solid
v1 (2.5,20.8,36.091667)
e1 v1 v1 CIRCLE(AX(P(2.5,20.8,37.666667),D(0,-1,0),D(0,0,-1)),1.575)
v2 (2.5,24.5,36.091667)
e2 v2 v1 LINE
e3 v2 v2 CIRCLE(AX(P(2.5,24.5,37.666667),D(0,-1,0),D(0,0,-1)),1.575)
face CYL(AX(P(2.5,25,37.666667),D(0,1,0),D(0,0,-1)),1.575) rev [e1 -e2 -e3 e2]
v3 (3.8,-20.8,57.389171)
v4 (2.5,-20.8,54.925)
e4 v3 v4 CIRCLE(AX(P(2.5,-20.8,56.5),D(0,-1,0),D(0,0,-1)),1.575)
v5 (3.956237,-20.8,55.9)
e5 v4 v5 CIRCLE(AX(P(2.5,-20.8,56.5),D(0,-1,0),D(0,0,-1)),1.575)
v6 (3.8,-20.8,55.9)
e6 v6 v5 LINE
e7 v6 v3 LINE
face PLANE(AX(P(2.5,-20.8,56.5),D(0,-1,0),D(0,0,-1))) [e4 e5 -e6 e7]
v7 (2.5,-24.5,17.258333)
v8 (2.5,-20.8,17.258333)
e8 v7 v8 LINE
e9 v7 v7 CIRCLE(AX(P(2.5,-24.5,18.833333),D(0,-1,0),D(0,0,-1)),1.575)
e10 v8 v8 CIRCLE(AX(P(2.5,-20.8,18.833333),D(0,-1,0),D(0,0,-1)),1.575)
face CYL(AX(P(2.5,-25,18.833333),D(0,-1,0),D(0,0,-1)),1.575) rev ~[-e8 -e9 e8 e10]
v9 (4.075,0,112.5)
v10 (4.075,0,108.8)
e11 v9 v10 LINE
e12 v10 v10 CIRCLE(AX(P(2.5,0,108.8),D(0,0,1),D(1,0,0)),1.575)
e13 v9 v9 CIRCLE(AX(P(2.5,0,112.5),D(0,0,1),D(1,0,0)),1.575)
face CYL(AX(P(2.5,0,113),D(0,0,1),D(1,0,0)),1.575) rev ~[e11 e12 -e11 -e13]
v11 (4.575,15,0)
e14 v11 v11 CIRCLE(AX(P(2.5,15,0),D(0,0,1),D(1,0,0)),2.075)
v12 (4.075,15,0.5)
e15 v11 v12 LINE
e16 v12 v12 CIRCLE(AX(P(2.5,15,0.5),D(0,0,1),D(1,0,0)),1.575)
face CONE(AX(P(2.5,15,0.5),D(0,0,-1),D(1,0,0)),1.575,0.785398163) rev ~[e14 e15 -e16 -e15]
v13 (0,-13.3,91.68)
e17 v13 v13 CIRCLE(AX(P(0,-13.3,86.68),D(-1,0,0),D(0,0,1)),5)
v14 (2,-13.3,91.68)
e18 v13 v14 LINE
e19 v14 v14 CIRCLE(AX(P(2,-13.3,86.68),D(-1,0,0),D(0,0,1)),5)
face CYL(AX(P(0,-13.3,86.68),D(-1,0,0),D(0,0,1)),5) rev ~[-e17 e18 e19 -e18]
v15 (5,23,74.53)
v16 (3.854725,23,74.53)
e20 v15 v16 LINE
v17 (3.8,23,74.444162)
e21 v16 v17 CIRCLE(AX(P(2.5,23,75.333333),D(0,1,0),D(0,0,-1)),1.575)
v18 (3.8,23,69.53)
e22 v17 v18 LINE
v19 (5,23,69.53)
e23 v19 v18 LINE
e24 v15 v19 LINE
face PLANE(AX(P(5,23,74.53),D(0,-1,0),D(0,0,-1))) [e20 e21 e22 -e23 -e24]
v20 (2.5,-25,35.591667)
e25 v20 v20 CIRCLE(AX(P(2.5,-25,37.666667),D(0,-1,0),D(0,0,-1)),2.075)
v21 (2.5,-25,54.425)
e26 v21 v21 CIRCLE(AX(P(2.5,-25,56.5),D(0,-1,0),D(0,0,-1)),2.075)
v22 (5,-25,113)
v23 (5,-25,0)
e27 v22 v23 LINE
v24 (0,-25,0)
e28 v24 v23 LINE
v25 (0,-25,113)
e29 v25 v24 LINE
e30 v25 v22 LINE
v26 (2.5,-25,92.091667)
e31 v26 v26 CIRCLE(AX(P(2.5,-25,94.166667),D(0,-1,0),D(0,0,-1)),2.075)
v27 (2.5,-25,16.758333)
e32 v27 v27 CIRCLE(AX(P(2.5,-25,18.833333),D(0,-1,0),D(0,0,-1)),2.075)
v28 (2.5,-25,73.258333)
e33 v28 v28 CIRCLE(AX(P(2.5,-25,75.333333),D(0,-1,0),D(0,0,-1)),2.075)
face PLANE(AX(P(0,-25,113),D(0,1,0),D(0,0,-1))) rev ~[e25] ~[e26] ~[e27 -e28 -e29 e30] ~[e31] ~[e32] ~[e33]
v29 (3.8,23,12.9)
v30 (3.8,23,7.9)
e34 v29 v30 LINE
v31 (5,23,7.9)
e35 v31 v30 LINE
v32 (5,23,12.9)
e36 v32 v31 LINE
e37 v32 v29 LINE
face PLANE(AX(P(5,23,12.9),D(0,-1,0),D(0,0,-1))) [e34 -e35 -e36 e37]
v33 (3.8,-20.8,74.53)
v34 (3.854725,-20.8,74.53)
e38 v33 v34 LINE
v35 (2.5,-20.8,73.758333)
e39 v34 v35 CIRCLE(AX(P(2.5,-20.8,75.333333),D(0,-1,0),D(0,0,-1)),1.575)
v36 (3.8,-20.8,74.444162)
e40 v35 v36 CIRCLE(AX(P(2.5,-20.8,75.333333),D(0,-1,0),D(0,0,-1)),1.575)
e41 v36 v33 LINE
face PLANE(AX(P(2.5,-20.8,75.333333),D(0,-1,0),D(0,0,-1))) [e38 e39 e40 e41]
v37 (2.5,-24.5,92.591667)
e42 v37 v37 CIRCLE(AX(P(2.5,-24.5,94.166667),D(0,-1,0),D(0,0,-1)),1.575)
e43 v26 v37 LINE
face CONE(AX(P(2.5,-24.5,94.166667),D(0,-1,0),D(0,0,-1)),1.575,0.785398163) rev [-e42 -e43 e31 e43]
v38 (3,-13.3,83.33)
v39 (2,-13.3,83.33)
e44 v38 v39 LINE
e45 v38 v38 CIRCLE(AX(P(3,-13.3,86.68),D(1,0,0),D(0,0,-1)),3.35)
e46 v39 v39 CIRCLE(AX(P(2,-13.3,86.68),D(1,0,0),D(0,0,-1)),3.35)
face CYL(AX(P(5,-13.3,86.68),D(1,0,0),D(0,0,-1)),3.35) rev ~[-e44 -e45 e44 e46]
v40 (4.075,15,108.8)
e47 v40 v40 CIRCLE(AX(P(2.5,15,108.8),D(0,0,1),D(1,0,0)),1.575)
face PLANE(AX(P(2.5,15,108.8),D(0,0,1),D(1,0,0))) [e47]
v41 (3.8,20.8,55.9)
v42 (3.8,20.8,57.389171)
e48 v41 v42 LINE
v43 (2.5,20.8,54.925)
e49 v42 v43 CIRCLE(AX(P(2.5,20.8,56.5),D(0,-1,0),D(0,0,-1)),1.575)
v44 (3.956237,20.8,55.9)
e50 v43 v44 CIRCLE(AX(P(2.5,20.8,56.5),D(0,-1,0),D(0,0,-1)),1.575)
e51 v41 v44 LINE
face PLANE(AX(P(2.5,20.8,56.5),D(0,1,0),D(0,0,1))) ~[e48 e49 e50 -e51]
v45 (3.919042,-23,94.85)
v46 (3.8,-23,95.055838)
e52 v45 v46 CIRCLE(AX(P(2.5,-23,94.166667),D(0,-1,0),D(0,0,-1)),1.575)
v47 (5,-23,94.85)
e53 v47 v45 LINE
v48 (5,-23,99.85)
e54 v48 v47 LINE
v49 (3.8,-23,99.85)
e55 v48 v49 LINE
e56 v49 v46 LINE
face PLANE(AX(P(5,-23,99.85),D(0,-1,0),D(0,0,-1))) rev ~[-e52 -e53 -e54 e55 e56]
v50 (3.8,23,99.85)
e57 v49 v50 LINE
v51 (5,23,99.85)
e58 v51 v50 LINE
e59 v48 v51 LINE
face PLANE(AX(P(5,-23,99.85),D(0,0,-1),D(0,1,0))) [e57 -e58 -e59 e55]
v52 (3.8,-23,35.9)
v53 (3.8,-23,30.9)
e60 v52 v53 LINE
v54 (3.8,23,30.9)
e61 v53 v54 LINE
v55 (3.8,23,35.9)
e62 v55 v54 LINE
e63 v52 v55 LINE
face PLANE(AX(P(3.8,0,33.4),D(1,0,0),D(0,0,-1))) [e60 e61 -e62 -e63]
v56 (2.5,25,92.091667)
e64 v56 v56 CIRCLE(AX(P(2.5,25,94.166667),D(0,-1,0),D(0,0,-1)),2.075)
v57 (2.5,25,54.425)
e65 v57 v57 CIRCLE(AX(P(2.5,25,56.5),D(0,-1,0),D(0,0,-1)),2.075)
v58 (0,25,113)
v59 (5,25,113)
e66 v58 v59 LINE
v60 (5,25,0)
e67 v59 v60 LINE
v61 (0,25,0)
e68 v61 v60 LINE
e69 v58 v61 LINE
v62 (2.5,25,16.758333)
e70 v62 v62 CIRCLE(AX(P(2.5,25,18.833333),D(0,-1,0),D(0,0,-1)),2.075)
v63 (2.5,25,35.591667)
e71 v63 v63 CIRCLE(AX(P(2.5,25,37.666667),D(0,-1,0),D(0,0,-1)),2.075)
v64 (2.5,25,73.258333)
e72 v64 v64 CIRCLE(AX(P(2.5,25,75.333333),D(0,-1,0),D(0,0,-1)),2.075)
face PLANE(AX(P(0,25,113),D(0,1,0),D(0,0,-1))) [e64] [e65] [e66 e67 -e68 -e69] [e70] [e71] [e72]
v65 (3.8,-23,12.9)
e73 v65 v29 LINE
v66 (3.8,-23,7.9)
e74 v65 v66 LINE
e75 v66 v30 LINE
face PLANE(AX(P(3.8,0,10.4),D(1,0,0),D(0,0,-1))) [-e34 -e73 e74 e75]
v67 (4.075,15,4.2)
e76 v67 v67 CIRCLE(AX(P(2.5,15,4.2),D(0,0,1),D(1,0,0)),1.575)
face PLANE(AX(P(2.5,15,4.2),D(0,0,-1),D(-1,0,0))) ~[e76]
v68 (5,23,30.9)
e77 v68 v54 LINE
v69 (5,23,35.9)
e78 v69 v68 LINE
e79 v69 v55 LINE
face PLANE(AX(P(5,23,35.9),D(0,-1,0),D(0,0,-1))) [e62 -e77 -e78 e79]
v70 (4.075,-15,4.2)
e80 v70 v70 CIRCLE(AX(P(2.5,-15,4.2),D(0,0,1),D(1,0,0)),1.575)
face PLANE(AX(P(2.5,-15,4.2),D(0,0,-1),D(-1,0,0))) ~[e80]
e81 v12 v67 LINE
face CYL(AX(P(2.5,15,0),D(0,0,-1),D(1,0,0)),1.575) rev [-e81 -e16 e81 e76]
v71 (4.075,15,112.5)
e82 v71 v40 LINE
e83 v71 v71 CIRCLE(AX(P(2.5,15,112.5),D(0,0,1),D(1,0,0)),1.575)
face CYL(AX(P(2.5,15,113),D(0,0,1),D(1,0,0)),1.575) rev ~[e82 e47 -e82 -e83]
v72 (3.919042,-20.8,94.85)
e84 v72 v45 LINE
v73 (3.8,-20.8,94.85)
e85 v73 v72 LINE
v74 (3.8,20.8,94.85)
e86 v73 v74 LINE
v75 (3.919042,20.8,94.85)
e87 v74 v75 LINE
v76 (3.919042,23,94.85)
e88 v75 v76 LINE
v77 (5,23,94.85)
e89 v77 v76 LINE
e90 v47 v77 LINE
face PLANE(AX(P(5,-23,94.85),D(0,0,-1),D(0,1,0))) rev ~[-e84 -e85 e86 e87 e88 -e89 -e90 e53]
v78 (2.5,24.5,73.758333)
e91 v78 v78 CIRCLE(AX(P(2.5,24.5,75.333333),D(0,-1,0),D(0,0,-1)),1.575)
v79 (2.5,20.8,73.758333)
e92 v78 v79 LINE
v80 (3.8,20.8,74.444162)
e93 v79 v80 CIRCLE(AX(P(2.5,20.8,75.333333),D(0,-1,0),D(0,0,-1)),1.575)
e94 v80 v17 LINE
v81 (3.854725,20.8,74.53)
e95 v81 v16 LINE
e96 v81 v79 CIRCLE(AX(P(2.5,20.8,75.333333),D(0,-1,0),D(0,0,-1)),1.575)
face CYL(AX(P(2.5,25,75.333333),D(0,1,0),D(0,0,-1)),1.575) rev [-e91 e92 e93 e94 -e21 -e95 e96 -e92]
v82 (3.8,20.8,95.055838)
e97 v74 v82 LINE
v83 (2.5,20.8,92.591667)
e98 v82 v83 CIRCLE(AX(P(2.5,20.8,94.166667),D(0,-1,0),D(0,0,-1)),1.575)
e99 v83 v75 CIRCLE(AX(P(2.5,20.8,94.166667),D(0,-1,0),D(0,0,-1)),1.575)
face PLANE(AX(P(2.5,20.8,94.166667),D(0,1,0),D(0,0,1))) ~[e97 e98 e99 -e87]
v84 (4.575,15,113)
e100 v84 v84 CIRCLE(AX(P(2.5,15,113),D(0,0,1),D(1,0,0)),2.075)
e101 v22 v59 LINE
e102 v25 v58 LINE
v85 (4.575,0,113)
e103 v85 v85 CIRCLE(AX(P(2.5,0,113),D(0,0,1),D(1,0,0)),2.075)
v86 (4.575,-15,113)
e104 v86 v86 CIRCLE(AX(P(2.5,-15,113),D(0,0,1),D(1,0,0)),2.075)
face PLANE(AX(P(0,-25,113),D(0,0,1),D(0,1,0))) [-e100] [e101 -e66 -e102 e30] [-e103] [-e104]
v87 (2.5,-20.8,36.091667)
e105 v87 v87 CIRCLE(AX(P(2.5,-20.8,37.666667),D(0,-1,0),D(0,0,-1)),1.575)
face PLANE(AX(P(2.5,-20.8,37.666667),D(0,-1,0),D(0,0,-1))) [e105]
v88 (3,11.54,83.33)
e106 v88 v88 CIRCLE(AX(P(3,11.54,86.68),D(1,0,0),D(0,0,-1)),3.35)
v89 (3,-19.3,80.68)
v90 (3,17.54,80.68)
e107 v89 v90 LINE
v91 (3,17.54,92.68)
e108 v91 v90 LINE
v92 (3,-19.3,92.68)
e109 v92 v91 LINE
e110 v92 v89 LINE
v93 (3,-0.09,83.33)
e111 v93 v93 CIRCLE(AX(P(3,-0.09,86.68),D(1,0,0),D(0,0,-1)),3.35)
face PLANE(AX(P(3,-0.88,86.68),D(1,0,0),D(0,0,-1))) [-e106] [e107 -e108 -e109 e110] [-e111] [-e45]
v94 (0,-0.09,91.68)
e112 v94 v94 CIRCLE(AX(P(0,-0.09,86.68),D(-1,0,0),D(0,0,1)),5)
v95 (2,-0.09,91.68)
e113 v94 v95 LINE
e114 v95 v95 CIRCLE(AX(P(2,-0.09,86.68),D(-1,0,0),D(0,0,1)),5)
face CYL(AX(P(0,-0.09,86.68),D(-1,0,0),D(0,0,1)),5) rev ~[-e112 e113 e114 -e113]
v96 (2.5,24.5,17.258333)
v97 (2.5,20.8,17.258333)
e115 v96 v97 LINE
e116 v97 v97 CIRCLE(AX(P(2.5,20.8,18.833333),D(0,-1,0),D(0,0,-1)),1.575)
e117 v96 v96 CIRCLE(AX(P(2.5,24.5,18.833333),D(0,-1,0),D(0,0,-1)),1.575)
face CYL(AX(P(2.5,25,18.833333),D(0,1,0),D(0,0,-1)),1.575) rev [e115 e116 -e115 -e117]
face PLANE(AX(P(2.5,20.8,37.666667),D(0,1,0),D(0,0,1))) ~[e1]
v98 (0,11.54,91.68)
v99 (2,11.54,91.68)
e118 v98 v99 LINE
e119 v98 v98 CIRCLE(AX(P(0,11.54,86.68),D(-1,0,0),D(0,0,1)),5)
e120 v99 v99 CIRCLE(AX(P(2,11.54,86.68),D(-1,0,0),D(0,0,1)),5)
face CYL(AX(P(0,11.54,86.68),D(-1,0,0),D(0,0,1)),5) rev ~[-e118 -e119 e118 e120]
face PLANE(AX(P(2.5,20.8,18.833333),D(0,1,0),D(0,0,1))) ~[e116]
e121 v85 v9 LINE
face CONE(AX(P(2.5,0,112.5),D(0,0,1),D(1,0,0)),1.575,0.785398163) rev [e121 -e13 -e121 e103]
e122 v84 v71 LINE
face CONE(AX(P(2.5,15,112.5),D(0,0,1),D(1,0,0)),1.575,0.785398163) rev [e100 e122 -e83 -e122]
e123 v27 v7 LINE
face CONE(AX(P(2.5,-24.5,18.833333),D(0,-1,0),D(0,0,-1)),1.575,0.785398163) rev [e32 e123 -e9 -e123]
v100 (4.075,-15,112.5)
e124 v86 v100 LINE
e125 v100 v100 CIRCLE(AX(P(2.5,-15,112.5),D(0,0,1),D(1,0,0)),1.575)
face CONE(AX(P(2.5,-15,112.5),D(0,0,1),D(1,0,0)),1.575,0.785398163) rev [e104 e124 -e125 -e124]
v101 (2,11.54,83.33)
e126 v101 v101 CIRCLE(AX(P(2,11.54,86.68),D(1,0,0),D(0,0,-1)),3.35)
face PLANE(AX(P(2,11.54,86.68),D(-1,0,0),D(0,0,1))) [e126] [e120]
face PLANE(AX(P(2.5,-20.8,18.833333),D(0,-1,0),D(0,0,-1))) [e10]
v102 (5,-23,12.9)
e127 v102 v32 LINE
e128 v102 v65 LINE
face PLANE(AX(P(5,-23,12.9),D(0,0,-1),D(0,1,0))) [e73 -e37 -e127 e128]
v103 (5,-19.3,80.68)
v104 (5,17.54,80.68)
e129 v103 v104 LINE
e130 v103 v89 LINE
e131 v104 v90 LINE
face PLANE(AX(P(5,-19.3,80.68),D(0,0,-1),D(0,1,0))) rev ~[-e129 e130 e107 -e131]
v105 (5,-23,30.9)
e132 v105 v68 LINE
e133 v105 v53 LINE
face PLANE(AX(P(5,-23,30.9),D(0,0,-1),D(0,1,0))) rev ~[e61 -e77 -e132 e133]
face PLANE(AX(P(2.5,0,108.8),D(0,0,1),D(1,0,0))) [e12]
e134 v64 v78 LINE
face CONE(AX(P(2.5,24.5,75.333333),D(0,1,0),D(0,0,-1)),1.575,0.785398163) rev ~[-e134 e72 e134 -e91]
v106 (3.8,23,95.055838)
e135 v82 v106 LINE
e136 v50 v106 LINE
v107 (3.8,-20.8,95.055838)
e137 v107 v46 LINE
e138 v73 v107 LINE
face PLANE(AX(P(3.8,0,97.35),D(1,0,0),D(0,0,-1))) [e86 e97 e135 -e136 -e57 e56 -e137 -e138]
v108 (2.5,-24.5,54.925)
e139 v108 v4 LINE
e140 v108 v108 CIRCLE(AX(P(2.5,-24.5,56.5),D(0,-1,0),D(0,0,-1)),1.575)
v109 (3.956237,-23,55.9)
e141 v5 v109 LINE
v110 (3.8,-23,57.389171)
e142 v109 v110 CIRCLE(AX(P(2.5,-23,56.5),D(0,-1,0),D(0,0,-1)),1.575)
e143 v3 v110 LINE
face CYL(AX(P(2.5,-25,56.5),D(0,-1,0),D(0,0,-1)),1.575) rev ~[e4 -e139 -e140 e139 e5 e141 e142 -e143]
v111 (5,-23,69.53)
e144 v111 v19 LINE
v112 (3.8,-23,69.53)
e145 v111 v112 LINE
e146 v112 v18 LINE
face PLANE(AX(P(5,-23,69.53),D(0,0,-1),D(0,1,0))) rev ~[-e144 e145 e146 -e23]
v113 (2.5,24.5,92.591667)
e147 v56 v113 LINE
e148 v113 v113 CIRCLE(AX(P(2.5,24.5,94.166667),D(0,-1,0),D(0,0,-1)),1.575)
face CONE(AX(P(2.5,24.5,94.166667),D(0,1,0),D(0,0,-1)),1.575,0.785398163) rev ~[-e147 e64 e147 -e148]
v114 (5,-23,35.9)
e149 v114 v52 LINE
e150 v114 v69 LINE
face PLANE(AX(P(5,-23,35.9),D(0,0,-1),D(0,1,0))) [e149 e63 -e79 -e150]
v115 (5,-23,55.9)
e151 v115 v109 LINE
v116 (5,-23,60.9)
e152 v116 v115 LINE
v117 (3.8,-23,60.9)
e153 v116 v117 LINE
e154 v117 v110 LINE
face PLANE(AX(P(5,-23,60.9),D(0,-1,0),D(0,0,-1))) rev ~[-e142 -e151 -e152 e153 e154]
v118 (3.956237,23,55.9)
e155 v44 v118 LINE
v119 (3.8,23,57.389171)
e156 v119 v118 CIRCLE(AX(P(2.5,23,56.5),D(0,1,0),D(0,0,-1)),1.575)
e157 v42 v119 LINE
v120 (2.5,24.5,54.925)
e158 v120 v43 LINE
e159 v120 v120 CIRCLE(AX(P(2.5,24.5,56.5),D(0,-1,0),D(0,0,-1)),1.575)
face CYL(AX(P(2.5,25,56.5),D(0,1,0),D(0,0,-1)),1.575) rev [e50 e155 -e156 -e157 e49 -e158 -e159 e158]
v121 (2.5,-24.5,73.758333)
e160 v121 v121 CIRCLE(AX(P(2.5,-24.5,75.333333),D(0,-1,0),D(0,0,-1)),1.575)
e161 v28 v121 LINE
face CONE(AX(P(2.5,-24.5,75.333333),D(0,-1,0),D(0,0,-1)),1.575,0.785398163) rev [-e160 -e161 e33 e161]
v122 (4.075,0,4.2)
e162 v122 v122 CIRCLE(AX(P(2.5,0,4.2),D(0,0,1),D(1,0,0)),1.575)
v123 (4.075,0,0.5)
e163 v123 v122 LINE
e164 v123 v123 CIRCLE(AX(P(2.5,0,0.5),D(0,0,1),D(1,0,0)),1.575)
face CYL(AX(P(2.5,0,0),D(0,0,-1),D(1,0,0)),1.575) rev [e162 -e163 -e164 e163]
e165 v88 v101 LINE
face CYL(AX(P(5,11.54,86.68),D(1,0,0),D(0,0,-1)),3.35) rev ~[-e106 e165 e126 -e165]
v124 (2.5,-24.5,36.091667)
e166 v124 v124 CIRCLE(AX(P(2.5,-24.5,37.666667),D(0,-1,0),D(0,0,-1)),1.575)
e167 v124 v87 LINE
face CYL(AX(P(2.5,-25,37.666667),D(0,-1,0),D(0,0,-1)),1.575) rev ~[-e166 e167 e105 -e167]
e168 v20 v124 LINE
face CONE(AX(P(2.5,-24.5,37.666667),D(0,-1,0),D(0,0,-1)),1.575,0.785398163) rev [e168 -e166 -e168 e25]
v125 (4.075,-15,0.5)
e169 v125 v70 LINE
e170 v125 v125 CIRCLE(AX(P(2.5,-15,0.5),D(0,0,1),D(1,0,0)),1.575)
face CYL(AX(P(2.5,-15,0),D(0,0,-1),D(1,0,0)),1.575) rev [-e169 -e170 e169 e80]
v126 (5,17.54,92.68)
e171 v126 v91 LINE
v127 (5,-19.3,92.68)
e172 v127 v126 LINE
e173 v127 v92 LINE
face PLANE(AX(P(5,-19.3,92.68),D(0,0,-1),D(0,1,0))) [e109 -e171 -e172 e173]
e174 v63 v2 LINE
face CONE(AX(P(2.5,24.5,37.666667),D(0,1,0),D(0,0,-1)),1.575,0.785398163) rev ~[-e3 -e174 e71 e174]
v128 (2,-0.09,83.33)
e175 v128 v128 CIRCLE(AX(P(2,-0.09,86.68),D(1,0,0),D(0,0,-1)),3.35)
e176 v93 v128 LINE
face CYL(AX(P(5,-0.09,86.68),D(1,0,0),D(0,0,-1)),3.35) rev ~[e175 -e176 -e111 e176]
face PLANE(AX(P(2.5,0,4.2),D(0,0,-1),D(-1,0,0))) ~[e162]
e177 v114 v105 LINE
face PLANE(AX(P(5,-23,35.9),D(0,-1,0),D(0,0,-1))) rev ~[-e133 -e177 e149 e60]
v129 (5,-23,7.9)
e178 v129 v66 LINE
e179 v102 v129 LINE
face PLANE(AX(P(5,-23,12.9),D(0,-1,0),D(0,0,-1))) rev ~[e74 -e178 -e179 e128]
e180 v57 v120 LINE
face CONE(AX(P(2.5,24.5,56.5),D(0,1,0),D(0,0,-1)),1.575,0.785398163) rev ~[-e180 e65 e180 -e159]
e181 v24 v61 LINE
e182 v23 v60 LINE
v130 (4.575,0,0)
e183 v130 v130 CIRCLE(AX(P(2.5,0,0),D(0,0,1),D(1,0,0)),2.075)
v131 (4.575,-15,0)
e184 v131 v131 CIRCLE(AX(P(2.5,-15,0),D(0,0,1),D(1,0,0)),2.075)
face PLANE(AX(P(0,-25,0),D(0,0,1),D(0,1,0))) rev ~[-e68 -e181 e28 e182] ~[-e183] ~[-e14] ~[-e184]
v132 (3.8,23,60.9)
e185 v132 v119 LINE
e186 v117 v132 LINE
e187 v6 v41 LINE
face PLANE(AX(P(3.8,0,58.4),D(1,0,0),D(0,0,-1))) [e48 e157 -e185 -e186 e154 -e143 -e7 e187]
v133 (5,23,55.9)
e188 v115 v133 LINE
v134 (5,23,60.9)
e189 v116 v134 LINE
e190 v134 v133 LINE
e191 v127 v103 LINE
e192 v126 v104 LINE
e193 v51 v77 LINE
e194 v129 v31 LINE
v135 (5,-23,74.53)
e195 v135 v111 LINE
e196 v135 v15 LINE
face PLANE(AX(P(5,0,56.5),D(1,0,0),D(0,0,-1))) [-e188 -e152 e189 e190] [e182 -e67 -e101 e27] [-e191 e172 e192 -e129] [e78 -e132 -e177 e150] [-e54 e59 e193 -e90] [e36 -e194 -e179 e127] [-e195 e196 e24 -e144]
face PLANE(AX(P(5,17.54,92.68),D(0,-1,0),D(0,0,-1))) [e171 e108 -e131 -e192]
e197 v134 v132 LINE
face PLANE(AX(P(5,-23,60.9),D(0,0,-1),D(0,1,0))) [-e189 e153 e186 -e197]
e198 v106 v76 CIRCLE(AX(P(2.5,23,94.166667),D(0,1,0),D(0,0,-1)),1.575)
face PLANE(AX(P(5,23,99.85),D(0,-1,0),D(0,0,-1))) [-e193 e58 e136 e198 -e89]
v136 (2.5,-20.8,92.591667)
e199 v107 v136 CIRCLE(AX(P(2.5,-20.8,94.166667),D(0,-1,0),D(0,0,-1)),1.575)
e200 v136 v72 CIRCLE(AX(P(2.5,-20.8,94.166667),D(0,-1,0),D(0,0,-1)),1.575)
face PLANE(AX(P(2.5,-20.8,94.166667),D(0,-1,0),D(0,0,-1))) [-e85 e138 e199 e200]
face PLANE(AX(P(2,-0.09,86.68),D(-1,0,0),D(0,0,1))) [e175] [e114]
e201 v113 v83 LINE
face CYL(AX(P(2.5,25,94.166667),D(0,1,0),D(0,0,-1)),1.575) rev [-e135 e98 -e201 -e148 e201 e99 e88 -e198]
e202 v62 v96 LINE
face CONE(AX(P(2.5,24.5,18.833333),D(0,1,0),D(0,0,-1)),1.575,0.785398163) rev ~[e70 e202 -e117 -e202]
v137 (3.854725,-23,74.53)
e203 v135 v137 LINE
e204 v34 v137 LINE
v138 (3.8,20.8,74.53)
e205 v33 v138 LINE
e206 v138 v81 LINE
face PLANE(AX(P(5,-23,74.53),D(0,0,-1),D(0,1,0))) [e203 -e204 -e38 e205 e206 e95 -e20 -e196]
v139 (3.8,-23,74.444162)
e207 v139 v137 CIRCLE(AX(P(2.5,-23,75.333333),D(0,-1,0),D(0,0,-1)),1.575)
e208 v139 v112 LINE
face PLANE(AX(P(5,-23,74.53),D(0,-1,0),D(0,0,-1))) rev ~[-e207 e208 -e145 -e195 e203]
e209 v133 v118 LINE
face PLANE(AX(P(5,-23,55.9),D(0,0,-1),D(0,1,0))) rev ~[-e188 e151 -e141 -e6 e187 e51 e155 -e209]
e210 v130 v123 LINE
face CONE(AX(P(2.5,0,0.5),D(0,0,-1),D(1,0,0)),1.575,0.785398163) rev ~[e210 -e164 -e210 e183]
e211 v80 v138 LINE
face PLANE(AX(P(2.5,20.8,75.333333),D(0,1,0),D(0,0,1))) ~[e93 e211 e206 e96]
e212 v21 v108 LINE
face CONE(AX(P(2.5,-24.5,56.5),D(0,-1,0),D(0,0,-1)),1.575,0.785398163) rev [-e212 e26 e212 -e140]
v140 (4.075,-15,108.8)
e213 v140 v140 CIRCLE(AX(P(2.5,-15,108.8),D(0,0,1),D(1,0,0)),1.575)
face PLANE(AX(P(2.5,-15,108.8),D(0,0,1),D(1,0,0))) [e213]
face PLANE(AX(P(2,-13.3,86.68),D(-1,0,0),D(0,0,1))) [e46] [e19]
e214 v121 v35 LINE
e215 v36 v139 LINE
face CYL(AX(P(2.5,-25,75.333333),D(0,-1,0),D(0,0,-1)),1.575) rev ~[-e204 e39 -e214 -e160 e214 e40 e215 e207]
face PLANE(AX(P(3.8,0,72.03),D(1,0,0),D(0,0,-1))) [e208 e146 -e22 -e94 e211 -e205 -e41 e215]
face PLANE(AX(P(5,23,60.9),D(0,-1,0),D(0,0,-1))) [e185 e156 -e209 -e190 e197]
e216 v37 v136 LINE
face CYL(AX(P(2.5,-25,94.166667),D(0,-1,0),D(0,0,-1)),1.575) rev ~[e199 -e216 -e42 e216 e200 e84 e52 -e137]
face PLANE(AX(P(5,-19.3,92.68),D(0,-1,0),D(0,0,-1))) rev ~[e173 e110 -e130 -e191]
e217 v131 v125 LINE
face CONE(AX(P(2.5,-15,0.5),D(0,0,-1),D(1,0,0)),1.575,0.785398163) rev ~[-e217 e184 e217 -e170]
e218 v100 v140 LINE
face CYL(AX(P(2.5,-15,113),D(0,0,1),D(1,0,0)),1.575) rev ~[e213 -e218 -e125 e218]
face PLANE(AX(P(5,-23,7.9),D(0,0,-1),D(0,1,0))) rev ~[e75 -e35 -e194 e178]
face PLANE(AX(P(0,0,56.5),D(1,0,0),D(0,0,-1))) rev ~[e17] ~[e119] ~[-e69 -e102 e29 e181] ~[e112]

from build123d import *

# Parameters (mm, degrees)
SKETCH_1_W             = 113
SKETCH_1_H             = 50
EXTRUDE_1_DEPTH        = 5
SKETCH_2_R             = 1.575
CUT_EXTRUDE_610_DEPTH  = 4.2
SKETCH_3_R             = 1.575
CUT_EXTRUDE_919_DEPTH  = 4.2
SKETCH_4_W             = 5
SKETCH_4_H             = 46
CUT_EXTRUDE_1430_DEPTH = 1.2
SKETCH_5_R             = 3.35
SMA_DEPTH              = 116.840407458
SKETCH_6_R             = 5
SMA_2_DEPTH            = 2
SKETCH_7_W             = 12
SKETCH_7_H             = 36.84
SMA_3_DEPTH            = 2
CHAMFER_2760_SIZE      = 0.5


with BuildPart() as part:
    # Эскиз1 → Бобышка-Вытянуть1 (new body)
    with BuildSketch(Plane(origin=(0, 0, 0), x_dir=(0, 0, -1), z_dir=(1, 0, 0))):
        with Locations((-56.5, 0)):
            Rectangle(SKETCH_1_W, SKETCH_1_H)
    extrude(amount=EXTRUDE_1_DEPTH)

    # Эскиз2 → Cut-Extrude 610 (cut)
    with BuildSketch(Plane.XZ.offset(25)):
        with Locations(Location((2.5, 94.166666667, 0), (0, 0, 270))):
            Circle(SKETCH_2_R)
        with Locations(Location((2.5, 75.333333333, 0), (0, 0, 270))):
            Circle(SKETCH_2_R)
        with Locations(Location((2.5, 56.5, 0), (0, 0, 270))):
            Circle(SKETCH_2_R)
        with Locations(Location((2.5, 37.666666667, 0), (0, 0, 270))):
            Circle(SKETCH_2_R)
        with Locations(Location((2.5, 18.833333333, 0), (0, 0, 270))):
            Circle(SKETCH_2_R)
    cut_extrude_610 = extrude(amount=-CUT_EXTRUDE_610_DEPTH, mode=Mode.SUBTRACT)

    # Зеркальное отражение1: Cut-Extrude 610 across plane
    add(cut_extrude_610.mirror(Plane(origin=(0, 0, 0), x_dir=(0, 0, 1), z_dir=(0, -1, 0))), mode=Mode.SUBTRACT)

    # Эскиз3 → Cut-Extrude 919 (cut)
    with BuildSketch(Plane.XY.offset(113)):
        with Locations((2.5, 15)):
            Circle(SKETCH_3_R)
        with Locations((2.5, 0)):
            Circle(SKETCH_3_R)
        with Locations((2.5, -15)):
            Circle(SKETCH_3_R)
    cut_extrude_919 = extrude(amount=-CUT_EXTRUDE_919_DEPTH, mode=Mode.SUBTRACT)

    # Зеркальное отражение2: Cut-Extrude 919 across plane
    add(cut_extrude_919.mirror(Plane(origin=(0, 0, 56.5), x_dir=(1, 0, 0), z_dir=(0, 0, -1))), mode=Mode.SUBTRACT)

    # Эскиз4 → Cut-Extrude 1430 (cut)
    with BuildSketch(Plane(origin=(5, 0, 0), x_dir=(0, 0, -1), z_dir=(1, 0, 0))):
        with Locations((-10.4, 0)):
            Rectangle(SKETCH_4_W, SKETCH_4_H)
        with Locations((-33.4, 0)):
            Rectangle(SKETCH_4_W, SKETCH_4_H)
        with Locations((-58.4, 0)):
            Rectangle(SKETCH_4_W, SKETCH_4_H)
        with Locations((-72.03, 0)):
            Rectangle(SKETCH_4_W, SKETCH_4_H)
        with Locations((-97.35, 0)):
            Rectangle(SKETCH_4_W, SKETCH_4_H)
    extrude(amount=-CUT_EXTRUDE_1430_DEPTH, mode=Mode.SUBTRACT)

    # Эскиз5 → SMA раземы (cut, through all)
    with BuildSketch(Plane(origin=(5, 0, 0), x_dir=(0, 0, -1), z_dir=(1, 0, 0))):
        with Locations((-86.68, 11.54)):
            Circle(SKETCH_5_R)
        with Locations((-86.68, -0.09)):
            Circle(SKETCH_5_R)
        with Locations((-86.68, -13.3)):
            Circle(SKETCH_5_R)
    extrude(amount=-SMA_DEPTH, mode=Mode.SUBTRACT)

    # Эскиз6 → SMA раземы2 (cut)
    with BuildSketch(Plane.ZY):
        with Locations((86.68, 11.54)):
            Circle(SKETCH_6_R)
        with Locations((86.68, -0.09)):
            Circle(SKETCH_6_R)
        with Locations((86.68, -13.3)):
            Circle(SKETCH_6_R)
    extrude(amount=-SMA_2_DEPTH, mode=Mode.SUBTRACT)

    # Эскиз7 → SMA раземы3 (cut)
    with BuildSketch(Plane(origin=(5, 0, 0), x_dir=(0, 0, -1), z_dir=(1, 0, 0))):
        with Locations((-86.68, -0.88)):
            Rectangle(SKETCH_7_W, SKETCH_7_H)
    extrude(amount=-SMA_3_DEPTH, mode=Mode.SUBTRACT)

    # Chamfer 2760
    chamfer_2760_edges = [part.edges().sort_by_distance(p)[0] for p in [
        (2.5, -25, 95.741666667),
        (2.5, -25, 76.908333333),
        (2.5, -25, 58.075),
        (2.5, -25, 39.241666667),
        (2.5, -25, 20.408333333),
        (2.5, 25, 95.741666667),
        (2.5, 25, 76.908333333),
        (2.5, 25, 58.075),
        (2.5, 25, 39.241666667),
        (2.5, 25, 20.408333333),
        (0.925, 15, 113),
        (0.925, 0, 113),
        (0.925, -15, 113),
        (0.925, 15, 0),
        (0.925, 0, 0),
        (0.925, -15, 0),
    ]]
    chamfer(chamfer_2760_edges, length=CHAMFER_2760_SIZE)


solid = part.part
